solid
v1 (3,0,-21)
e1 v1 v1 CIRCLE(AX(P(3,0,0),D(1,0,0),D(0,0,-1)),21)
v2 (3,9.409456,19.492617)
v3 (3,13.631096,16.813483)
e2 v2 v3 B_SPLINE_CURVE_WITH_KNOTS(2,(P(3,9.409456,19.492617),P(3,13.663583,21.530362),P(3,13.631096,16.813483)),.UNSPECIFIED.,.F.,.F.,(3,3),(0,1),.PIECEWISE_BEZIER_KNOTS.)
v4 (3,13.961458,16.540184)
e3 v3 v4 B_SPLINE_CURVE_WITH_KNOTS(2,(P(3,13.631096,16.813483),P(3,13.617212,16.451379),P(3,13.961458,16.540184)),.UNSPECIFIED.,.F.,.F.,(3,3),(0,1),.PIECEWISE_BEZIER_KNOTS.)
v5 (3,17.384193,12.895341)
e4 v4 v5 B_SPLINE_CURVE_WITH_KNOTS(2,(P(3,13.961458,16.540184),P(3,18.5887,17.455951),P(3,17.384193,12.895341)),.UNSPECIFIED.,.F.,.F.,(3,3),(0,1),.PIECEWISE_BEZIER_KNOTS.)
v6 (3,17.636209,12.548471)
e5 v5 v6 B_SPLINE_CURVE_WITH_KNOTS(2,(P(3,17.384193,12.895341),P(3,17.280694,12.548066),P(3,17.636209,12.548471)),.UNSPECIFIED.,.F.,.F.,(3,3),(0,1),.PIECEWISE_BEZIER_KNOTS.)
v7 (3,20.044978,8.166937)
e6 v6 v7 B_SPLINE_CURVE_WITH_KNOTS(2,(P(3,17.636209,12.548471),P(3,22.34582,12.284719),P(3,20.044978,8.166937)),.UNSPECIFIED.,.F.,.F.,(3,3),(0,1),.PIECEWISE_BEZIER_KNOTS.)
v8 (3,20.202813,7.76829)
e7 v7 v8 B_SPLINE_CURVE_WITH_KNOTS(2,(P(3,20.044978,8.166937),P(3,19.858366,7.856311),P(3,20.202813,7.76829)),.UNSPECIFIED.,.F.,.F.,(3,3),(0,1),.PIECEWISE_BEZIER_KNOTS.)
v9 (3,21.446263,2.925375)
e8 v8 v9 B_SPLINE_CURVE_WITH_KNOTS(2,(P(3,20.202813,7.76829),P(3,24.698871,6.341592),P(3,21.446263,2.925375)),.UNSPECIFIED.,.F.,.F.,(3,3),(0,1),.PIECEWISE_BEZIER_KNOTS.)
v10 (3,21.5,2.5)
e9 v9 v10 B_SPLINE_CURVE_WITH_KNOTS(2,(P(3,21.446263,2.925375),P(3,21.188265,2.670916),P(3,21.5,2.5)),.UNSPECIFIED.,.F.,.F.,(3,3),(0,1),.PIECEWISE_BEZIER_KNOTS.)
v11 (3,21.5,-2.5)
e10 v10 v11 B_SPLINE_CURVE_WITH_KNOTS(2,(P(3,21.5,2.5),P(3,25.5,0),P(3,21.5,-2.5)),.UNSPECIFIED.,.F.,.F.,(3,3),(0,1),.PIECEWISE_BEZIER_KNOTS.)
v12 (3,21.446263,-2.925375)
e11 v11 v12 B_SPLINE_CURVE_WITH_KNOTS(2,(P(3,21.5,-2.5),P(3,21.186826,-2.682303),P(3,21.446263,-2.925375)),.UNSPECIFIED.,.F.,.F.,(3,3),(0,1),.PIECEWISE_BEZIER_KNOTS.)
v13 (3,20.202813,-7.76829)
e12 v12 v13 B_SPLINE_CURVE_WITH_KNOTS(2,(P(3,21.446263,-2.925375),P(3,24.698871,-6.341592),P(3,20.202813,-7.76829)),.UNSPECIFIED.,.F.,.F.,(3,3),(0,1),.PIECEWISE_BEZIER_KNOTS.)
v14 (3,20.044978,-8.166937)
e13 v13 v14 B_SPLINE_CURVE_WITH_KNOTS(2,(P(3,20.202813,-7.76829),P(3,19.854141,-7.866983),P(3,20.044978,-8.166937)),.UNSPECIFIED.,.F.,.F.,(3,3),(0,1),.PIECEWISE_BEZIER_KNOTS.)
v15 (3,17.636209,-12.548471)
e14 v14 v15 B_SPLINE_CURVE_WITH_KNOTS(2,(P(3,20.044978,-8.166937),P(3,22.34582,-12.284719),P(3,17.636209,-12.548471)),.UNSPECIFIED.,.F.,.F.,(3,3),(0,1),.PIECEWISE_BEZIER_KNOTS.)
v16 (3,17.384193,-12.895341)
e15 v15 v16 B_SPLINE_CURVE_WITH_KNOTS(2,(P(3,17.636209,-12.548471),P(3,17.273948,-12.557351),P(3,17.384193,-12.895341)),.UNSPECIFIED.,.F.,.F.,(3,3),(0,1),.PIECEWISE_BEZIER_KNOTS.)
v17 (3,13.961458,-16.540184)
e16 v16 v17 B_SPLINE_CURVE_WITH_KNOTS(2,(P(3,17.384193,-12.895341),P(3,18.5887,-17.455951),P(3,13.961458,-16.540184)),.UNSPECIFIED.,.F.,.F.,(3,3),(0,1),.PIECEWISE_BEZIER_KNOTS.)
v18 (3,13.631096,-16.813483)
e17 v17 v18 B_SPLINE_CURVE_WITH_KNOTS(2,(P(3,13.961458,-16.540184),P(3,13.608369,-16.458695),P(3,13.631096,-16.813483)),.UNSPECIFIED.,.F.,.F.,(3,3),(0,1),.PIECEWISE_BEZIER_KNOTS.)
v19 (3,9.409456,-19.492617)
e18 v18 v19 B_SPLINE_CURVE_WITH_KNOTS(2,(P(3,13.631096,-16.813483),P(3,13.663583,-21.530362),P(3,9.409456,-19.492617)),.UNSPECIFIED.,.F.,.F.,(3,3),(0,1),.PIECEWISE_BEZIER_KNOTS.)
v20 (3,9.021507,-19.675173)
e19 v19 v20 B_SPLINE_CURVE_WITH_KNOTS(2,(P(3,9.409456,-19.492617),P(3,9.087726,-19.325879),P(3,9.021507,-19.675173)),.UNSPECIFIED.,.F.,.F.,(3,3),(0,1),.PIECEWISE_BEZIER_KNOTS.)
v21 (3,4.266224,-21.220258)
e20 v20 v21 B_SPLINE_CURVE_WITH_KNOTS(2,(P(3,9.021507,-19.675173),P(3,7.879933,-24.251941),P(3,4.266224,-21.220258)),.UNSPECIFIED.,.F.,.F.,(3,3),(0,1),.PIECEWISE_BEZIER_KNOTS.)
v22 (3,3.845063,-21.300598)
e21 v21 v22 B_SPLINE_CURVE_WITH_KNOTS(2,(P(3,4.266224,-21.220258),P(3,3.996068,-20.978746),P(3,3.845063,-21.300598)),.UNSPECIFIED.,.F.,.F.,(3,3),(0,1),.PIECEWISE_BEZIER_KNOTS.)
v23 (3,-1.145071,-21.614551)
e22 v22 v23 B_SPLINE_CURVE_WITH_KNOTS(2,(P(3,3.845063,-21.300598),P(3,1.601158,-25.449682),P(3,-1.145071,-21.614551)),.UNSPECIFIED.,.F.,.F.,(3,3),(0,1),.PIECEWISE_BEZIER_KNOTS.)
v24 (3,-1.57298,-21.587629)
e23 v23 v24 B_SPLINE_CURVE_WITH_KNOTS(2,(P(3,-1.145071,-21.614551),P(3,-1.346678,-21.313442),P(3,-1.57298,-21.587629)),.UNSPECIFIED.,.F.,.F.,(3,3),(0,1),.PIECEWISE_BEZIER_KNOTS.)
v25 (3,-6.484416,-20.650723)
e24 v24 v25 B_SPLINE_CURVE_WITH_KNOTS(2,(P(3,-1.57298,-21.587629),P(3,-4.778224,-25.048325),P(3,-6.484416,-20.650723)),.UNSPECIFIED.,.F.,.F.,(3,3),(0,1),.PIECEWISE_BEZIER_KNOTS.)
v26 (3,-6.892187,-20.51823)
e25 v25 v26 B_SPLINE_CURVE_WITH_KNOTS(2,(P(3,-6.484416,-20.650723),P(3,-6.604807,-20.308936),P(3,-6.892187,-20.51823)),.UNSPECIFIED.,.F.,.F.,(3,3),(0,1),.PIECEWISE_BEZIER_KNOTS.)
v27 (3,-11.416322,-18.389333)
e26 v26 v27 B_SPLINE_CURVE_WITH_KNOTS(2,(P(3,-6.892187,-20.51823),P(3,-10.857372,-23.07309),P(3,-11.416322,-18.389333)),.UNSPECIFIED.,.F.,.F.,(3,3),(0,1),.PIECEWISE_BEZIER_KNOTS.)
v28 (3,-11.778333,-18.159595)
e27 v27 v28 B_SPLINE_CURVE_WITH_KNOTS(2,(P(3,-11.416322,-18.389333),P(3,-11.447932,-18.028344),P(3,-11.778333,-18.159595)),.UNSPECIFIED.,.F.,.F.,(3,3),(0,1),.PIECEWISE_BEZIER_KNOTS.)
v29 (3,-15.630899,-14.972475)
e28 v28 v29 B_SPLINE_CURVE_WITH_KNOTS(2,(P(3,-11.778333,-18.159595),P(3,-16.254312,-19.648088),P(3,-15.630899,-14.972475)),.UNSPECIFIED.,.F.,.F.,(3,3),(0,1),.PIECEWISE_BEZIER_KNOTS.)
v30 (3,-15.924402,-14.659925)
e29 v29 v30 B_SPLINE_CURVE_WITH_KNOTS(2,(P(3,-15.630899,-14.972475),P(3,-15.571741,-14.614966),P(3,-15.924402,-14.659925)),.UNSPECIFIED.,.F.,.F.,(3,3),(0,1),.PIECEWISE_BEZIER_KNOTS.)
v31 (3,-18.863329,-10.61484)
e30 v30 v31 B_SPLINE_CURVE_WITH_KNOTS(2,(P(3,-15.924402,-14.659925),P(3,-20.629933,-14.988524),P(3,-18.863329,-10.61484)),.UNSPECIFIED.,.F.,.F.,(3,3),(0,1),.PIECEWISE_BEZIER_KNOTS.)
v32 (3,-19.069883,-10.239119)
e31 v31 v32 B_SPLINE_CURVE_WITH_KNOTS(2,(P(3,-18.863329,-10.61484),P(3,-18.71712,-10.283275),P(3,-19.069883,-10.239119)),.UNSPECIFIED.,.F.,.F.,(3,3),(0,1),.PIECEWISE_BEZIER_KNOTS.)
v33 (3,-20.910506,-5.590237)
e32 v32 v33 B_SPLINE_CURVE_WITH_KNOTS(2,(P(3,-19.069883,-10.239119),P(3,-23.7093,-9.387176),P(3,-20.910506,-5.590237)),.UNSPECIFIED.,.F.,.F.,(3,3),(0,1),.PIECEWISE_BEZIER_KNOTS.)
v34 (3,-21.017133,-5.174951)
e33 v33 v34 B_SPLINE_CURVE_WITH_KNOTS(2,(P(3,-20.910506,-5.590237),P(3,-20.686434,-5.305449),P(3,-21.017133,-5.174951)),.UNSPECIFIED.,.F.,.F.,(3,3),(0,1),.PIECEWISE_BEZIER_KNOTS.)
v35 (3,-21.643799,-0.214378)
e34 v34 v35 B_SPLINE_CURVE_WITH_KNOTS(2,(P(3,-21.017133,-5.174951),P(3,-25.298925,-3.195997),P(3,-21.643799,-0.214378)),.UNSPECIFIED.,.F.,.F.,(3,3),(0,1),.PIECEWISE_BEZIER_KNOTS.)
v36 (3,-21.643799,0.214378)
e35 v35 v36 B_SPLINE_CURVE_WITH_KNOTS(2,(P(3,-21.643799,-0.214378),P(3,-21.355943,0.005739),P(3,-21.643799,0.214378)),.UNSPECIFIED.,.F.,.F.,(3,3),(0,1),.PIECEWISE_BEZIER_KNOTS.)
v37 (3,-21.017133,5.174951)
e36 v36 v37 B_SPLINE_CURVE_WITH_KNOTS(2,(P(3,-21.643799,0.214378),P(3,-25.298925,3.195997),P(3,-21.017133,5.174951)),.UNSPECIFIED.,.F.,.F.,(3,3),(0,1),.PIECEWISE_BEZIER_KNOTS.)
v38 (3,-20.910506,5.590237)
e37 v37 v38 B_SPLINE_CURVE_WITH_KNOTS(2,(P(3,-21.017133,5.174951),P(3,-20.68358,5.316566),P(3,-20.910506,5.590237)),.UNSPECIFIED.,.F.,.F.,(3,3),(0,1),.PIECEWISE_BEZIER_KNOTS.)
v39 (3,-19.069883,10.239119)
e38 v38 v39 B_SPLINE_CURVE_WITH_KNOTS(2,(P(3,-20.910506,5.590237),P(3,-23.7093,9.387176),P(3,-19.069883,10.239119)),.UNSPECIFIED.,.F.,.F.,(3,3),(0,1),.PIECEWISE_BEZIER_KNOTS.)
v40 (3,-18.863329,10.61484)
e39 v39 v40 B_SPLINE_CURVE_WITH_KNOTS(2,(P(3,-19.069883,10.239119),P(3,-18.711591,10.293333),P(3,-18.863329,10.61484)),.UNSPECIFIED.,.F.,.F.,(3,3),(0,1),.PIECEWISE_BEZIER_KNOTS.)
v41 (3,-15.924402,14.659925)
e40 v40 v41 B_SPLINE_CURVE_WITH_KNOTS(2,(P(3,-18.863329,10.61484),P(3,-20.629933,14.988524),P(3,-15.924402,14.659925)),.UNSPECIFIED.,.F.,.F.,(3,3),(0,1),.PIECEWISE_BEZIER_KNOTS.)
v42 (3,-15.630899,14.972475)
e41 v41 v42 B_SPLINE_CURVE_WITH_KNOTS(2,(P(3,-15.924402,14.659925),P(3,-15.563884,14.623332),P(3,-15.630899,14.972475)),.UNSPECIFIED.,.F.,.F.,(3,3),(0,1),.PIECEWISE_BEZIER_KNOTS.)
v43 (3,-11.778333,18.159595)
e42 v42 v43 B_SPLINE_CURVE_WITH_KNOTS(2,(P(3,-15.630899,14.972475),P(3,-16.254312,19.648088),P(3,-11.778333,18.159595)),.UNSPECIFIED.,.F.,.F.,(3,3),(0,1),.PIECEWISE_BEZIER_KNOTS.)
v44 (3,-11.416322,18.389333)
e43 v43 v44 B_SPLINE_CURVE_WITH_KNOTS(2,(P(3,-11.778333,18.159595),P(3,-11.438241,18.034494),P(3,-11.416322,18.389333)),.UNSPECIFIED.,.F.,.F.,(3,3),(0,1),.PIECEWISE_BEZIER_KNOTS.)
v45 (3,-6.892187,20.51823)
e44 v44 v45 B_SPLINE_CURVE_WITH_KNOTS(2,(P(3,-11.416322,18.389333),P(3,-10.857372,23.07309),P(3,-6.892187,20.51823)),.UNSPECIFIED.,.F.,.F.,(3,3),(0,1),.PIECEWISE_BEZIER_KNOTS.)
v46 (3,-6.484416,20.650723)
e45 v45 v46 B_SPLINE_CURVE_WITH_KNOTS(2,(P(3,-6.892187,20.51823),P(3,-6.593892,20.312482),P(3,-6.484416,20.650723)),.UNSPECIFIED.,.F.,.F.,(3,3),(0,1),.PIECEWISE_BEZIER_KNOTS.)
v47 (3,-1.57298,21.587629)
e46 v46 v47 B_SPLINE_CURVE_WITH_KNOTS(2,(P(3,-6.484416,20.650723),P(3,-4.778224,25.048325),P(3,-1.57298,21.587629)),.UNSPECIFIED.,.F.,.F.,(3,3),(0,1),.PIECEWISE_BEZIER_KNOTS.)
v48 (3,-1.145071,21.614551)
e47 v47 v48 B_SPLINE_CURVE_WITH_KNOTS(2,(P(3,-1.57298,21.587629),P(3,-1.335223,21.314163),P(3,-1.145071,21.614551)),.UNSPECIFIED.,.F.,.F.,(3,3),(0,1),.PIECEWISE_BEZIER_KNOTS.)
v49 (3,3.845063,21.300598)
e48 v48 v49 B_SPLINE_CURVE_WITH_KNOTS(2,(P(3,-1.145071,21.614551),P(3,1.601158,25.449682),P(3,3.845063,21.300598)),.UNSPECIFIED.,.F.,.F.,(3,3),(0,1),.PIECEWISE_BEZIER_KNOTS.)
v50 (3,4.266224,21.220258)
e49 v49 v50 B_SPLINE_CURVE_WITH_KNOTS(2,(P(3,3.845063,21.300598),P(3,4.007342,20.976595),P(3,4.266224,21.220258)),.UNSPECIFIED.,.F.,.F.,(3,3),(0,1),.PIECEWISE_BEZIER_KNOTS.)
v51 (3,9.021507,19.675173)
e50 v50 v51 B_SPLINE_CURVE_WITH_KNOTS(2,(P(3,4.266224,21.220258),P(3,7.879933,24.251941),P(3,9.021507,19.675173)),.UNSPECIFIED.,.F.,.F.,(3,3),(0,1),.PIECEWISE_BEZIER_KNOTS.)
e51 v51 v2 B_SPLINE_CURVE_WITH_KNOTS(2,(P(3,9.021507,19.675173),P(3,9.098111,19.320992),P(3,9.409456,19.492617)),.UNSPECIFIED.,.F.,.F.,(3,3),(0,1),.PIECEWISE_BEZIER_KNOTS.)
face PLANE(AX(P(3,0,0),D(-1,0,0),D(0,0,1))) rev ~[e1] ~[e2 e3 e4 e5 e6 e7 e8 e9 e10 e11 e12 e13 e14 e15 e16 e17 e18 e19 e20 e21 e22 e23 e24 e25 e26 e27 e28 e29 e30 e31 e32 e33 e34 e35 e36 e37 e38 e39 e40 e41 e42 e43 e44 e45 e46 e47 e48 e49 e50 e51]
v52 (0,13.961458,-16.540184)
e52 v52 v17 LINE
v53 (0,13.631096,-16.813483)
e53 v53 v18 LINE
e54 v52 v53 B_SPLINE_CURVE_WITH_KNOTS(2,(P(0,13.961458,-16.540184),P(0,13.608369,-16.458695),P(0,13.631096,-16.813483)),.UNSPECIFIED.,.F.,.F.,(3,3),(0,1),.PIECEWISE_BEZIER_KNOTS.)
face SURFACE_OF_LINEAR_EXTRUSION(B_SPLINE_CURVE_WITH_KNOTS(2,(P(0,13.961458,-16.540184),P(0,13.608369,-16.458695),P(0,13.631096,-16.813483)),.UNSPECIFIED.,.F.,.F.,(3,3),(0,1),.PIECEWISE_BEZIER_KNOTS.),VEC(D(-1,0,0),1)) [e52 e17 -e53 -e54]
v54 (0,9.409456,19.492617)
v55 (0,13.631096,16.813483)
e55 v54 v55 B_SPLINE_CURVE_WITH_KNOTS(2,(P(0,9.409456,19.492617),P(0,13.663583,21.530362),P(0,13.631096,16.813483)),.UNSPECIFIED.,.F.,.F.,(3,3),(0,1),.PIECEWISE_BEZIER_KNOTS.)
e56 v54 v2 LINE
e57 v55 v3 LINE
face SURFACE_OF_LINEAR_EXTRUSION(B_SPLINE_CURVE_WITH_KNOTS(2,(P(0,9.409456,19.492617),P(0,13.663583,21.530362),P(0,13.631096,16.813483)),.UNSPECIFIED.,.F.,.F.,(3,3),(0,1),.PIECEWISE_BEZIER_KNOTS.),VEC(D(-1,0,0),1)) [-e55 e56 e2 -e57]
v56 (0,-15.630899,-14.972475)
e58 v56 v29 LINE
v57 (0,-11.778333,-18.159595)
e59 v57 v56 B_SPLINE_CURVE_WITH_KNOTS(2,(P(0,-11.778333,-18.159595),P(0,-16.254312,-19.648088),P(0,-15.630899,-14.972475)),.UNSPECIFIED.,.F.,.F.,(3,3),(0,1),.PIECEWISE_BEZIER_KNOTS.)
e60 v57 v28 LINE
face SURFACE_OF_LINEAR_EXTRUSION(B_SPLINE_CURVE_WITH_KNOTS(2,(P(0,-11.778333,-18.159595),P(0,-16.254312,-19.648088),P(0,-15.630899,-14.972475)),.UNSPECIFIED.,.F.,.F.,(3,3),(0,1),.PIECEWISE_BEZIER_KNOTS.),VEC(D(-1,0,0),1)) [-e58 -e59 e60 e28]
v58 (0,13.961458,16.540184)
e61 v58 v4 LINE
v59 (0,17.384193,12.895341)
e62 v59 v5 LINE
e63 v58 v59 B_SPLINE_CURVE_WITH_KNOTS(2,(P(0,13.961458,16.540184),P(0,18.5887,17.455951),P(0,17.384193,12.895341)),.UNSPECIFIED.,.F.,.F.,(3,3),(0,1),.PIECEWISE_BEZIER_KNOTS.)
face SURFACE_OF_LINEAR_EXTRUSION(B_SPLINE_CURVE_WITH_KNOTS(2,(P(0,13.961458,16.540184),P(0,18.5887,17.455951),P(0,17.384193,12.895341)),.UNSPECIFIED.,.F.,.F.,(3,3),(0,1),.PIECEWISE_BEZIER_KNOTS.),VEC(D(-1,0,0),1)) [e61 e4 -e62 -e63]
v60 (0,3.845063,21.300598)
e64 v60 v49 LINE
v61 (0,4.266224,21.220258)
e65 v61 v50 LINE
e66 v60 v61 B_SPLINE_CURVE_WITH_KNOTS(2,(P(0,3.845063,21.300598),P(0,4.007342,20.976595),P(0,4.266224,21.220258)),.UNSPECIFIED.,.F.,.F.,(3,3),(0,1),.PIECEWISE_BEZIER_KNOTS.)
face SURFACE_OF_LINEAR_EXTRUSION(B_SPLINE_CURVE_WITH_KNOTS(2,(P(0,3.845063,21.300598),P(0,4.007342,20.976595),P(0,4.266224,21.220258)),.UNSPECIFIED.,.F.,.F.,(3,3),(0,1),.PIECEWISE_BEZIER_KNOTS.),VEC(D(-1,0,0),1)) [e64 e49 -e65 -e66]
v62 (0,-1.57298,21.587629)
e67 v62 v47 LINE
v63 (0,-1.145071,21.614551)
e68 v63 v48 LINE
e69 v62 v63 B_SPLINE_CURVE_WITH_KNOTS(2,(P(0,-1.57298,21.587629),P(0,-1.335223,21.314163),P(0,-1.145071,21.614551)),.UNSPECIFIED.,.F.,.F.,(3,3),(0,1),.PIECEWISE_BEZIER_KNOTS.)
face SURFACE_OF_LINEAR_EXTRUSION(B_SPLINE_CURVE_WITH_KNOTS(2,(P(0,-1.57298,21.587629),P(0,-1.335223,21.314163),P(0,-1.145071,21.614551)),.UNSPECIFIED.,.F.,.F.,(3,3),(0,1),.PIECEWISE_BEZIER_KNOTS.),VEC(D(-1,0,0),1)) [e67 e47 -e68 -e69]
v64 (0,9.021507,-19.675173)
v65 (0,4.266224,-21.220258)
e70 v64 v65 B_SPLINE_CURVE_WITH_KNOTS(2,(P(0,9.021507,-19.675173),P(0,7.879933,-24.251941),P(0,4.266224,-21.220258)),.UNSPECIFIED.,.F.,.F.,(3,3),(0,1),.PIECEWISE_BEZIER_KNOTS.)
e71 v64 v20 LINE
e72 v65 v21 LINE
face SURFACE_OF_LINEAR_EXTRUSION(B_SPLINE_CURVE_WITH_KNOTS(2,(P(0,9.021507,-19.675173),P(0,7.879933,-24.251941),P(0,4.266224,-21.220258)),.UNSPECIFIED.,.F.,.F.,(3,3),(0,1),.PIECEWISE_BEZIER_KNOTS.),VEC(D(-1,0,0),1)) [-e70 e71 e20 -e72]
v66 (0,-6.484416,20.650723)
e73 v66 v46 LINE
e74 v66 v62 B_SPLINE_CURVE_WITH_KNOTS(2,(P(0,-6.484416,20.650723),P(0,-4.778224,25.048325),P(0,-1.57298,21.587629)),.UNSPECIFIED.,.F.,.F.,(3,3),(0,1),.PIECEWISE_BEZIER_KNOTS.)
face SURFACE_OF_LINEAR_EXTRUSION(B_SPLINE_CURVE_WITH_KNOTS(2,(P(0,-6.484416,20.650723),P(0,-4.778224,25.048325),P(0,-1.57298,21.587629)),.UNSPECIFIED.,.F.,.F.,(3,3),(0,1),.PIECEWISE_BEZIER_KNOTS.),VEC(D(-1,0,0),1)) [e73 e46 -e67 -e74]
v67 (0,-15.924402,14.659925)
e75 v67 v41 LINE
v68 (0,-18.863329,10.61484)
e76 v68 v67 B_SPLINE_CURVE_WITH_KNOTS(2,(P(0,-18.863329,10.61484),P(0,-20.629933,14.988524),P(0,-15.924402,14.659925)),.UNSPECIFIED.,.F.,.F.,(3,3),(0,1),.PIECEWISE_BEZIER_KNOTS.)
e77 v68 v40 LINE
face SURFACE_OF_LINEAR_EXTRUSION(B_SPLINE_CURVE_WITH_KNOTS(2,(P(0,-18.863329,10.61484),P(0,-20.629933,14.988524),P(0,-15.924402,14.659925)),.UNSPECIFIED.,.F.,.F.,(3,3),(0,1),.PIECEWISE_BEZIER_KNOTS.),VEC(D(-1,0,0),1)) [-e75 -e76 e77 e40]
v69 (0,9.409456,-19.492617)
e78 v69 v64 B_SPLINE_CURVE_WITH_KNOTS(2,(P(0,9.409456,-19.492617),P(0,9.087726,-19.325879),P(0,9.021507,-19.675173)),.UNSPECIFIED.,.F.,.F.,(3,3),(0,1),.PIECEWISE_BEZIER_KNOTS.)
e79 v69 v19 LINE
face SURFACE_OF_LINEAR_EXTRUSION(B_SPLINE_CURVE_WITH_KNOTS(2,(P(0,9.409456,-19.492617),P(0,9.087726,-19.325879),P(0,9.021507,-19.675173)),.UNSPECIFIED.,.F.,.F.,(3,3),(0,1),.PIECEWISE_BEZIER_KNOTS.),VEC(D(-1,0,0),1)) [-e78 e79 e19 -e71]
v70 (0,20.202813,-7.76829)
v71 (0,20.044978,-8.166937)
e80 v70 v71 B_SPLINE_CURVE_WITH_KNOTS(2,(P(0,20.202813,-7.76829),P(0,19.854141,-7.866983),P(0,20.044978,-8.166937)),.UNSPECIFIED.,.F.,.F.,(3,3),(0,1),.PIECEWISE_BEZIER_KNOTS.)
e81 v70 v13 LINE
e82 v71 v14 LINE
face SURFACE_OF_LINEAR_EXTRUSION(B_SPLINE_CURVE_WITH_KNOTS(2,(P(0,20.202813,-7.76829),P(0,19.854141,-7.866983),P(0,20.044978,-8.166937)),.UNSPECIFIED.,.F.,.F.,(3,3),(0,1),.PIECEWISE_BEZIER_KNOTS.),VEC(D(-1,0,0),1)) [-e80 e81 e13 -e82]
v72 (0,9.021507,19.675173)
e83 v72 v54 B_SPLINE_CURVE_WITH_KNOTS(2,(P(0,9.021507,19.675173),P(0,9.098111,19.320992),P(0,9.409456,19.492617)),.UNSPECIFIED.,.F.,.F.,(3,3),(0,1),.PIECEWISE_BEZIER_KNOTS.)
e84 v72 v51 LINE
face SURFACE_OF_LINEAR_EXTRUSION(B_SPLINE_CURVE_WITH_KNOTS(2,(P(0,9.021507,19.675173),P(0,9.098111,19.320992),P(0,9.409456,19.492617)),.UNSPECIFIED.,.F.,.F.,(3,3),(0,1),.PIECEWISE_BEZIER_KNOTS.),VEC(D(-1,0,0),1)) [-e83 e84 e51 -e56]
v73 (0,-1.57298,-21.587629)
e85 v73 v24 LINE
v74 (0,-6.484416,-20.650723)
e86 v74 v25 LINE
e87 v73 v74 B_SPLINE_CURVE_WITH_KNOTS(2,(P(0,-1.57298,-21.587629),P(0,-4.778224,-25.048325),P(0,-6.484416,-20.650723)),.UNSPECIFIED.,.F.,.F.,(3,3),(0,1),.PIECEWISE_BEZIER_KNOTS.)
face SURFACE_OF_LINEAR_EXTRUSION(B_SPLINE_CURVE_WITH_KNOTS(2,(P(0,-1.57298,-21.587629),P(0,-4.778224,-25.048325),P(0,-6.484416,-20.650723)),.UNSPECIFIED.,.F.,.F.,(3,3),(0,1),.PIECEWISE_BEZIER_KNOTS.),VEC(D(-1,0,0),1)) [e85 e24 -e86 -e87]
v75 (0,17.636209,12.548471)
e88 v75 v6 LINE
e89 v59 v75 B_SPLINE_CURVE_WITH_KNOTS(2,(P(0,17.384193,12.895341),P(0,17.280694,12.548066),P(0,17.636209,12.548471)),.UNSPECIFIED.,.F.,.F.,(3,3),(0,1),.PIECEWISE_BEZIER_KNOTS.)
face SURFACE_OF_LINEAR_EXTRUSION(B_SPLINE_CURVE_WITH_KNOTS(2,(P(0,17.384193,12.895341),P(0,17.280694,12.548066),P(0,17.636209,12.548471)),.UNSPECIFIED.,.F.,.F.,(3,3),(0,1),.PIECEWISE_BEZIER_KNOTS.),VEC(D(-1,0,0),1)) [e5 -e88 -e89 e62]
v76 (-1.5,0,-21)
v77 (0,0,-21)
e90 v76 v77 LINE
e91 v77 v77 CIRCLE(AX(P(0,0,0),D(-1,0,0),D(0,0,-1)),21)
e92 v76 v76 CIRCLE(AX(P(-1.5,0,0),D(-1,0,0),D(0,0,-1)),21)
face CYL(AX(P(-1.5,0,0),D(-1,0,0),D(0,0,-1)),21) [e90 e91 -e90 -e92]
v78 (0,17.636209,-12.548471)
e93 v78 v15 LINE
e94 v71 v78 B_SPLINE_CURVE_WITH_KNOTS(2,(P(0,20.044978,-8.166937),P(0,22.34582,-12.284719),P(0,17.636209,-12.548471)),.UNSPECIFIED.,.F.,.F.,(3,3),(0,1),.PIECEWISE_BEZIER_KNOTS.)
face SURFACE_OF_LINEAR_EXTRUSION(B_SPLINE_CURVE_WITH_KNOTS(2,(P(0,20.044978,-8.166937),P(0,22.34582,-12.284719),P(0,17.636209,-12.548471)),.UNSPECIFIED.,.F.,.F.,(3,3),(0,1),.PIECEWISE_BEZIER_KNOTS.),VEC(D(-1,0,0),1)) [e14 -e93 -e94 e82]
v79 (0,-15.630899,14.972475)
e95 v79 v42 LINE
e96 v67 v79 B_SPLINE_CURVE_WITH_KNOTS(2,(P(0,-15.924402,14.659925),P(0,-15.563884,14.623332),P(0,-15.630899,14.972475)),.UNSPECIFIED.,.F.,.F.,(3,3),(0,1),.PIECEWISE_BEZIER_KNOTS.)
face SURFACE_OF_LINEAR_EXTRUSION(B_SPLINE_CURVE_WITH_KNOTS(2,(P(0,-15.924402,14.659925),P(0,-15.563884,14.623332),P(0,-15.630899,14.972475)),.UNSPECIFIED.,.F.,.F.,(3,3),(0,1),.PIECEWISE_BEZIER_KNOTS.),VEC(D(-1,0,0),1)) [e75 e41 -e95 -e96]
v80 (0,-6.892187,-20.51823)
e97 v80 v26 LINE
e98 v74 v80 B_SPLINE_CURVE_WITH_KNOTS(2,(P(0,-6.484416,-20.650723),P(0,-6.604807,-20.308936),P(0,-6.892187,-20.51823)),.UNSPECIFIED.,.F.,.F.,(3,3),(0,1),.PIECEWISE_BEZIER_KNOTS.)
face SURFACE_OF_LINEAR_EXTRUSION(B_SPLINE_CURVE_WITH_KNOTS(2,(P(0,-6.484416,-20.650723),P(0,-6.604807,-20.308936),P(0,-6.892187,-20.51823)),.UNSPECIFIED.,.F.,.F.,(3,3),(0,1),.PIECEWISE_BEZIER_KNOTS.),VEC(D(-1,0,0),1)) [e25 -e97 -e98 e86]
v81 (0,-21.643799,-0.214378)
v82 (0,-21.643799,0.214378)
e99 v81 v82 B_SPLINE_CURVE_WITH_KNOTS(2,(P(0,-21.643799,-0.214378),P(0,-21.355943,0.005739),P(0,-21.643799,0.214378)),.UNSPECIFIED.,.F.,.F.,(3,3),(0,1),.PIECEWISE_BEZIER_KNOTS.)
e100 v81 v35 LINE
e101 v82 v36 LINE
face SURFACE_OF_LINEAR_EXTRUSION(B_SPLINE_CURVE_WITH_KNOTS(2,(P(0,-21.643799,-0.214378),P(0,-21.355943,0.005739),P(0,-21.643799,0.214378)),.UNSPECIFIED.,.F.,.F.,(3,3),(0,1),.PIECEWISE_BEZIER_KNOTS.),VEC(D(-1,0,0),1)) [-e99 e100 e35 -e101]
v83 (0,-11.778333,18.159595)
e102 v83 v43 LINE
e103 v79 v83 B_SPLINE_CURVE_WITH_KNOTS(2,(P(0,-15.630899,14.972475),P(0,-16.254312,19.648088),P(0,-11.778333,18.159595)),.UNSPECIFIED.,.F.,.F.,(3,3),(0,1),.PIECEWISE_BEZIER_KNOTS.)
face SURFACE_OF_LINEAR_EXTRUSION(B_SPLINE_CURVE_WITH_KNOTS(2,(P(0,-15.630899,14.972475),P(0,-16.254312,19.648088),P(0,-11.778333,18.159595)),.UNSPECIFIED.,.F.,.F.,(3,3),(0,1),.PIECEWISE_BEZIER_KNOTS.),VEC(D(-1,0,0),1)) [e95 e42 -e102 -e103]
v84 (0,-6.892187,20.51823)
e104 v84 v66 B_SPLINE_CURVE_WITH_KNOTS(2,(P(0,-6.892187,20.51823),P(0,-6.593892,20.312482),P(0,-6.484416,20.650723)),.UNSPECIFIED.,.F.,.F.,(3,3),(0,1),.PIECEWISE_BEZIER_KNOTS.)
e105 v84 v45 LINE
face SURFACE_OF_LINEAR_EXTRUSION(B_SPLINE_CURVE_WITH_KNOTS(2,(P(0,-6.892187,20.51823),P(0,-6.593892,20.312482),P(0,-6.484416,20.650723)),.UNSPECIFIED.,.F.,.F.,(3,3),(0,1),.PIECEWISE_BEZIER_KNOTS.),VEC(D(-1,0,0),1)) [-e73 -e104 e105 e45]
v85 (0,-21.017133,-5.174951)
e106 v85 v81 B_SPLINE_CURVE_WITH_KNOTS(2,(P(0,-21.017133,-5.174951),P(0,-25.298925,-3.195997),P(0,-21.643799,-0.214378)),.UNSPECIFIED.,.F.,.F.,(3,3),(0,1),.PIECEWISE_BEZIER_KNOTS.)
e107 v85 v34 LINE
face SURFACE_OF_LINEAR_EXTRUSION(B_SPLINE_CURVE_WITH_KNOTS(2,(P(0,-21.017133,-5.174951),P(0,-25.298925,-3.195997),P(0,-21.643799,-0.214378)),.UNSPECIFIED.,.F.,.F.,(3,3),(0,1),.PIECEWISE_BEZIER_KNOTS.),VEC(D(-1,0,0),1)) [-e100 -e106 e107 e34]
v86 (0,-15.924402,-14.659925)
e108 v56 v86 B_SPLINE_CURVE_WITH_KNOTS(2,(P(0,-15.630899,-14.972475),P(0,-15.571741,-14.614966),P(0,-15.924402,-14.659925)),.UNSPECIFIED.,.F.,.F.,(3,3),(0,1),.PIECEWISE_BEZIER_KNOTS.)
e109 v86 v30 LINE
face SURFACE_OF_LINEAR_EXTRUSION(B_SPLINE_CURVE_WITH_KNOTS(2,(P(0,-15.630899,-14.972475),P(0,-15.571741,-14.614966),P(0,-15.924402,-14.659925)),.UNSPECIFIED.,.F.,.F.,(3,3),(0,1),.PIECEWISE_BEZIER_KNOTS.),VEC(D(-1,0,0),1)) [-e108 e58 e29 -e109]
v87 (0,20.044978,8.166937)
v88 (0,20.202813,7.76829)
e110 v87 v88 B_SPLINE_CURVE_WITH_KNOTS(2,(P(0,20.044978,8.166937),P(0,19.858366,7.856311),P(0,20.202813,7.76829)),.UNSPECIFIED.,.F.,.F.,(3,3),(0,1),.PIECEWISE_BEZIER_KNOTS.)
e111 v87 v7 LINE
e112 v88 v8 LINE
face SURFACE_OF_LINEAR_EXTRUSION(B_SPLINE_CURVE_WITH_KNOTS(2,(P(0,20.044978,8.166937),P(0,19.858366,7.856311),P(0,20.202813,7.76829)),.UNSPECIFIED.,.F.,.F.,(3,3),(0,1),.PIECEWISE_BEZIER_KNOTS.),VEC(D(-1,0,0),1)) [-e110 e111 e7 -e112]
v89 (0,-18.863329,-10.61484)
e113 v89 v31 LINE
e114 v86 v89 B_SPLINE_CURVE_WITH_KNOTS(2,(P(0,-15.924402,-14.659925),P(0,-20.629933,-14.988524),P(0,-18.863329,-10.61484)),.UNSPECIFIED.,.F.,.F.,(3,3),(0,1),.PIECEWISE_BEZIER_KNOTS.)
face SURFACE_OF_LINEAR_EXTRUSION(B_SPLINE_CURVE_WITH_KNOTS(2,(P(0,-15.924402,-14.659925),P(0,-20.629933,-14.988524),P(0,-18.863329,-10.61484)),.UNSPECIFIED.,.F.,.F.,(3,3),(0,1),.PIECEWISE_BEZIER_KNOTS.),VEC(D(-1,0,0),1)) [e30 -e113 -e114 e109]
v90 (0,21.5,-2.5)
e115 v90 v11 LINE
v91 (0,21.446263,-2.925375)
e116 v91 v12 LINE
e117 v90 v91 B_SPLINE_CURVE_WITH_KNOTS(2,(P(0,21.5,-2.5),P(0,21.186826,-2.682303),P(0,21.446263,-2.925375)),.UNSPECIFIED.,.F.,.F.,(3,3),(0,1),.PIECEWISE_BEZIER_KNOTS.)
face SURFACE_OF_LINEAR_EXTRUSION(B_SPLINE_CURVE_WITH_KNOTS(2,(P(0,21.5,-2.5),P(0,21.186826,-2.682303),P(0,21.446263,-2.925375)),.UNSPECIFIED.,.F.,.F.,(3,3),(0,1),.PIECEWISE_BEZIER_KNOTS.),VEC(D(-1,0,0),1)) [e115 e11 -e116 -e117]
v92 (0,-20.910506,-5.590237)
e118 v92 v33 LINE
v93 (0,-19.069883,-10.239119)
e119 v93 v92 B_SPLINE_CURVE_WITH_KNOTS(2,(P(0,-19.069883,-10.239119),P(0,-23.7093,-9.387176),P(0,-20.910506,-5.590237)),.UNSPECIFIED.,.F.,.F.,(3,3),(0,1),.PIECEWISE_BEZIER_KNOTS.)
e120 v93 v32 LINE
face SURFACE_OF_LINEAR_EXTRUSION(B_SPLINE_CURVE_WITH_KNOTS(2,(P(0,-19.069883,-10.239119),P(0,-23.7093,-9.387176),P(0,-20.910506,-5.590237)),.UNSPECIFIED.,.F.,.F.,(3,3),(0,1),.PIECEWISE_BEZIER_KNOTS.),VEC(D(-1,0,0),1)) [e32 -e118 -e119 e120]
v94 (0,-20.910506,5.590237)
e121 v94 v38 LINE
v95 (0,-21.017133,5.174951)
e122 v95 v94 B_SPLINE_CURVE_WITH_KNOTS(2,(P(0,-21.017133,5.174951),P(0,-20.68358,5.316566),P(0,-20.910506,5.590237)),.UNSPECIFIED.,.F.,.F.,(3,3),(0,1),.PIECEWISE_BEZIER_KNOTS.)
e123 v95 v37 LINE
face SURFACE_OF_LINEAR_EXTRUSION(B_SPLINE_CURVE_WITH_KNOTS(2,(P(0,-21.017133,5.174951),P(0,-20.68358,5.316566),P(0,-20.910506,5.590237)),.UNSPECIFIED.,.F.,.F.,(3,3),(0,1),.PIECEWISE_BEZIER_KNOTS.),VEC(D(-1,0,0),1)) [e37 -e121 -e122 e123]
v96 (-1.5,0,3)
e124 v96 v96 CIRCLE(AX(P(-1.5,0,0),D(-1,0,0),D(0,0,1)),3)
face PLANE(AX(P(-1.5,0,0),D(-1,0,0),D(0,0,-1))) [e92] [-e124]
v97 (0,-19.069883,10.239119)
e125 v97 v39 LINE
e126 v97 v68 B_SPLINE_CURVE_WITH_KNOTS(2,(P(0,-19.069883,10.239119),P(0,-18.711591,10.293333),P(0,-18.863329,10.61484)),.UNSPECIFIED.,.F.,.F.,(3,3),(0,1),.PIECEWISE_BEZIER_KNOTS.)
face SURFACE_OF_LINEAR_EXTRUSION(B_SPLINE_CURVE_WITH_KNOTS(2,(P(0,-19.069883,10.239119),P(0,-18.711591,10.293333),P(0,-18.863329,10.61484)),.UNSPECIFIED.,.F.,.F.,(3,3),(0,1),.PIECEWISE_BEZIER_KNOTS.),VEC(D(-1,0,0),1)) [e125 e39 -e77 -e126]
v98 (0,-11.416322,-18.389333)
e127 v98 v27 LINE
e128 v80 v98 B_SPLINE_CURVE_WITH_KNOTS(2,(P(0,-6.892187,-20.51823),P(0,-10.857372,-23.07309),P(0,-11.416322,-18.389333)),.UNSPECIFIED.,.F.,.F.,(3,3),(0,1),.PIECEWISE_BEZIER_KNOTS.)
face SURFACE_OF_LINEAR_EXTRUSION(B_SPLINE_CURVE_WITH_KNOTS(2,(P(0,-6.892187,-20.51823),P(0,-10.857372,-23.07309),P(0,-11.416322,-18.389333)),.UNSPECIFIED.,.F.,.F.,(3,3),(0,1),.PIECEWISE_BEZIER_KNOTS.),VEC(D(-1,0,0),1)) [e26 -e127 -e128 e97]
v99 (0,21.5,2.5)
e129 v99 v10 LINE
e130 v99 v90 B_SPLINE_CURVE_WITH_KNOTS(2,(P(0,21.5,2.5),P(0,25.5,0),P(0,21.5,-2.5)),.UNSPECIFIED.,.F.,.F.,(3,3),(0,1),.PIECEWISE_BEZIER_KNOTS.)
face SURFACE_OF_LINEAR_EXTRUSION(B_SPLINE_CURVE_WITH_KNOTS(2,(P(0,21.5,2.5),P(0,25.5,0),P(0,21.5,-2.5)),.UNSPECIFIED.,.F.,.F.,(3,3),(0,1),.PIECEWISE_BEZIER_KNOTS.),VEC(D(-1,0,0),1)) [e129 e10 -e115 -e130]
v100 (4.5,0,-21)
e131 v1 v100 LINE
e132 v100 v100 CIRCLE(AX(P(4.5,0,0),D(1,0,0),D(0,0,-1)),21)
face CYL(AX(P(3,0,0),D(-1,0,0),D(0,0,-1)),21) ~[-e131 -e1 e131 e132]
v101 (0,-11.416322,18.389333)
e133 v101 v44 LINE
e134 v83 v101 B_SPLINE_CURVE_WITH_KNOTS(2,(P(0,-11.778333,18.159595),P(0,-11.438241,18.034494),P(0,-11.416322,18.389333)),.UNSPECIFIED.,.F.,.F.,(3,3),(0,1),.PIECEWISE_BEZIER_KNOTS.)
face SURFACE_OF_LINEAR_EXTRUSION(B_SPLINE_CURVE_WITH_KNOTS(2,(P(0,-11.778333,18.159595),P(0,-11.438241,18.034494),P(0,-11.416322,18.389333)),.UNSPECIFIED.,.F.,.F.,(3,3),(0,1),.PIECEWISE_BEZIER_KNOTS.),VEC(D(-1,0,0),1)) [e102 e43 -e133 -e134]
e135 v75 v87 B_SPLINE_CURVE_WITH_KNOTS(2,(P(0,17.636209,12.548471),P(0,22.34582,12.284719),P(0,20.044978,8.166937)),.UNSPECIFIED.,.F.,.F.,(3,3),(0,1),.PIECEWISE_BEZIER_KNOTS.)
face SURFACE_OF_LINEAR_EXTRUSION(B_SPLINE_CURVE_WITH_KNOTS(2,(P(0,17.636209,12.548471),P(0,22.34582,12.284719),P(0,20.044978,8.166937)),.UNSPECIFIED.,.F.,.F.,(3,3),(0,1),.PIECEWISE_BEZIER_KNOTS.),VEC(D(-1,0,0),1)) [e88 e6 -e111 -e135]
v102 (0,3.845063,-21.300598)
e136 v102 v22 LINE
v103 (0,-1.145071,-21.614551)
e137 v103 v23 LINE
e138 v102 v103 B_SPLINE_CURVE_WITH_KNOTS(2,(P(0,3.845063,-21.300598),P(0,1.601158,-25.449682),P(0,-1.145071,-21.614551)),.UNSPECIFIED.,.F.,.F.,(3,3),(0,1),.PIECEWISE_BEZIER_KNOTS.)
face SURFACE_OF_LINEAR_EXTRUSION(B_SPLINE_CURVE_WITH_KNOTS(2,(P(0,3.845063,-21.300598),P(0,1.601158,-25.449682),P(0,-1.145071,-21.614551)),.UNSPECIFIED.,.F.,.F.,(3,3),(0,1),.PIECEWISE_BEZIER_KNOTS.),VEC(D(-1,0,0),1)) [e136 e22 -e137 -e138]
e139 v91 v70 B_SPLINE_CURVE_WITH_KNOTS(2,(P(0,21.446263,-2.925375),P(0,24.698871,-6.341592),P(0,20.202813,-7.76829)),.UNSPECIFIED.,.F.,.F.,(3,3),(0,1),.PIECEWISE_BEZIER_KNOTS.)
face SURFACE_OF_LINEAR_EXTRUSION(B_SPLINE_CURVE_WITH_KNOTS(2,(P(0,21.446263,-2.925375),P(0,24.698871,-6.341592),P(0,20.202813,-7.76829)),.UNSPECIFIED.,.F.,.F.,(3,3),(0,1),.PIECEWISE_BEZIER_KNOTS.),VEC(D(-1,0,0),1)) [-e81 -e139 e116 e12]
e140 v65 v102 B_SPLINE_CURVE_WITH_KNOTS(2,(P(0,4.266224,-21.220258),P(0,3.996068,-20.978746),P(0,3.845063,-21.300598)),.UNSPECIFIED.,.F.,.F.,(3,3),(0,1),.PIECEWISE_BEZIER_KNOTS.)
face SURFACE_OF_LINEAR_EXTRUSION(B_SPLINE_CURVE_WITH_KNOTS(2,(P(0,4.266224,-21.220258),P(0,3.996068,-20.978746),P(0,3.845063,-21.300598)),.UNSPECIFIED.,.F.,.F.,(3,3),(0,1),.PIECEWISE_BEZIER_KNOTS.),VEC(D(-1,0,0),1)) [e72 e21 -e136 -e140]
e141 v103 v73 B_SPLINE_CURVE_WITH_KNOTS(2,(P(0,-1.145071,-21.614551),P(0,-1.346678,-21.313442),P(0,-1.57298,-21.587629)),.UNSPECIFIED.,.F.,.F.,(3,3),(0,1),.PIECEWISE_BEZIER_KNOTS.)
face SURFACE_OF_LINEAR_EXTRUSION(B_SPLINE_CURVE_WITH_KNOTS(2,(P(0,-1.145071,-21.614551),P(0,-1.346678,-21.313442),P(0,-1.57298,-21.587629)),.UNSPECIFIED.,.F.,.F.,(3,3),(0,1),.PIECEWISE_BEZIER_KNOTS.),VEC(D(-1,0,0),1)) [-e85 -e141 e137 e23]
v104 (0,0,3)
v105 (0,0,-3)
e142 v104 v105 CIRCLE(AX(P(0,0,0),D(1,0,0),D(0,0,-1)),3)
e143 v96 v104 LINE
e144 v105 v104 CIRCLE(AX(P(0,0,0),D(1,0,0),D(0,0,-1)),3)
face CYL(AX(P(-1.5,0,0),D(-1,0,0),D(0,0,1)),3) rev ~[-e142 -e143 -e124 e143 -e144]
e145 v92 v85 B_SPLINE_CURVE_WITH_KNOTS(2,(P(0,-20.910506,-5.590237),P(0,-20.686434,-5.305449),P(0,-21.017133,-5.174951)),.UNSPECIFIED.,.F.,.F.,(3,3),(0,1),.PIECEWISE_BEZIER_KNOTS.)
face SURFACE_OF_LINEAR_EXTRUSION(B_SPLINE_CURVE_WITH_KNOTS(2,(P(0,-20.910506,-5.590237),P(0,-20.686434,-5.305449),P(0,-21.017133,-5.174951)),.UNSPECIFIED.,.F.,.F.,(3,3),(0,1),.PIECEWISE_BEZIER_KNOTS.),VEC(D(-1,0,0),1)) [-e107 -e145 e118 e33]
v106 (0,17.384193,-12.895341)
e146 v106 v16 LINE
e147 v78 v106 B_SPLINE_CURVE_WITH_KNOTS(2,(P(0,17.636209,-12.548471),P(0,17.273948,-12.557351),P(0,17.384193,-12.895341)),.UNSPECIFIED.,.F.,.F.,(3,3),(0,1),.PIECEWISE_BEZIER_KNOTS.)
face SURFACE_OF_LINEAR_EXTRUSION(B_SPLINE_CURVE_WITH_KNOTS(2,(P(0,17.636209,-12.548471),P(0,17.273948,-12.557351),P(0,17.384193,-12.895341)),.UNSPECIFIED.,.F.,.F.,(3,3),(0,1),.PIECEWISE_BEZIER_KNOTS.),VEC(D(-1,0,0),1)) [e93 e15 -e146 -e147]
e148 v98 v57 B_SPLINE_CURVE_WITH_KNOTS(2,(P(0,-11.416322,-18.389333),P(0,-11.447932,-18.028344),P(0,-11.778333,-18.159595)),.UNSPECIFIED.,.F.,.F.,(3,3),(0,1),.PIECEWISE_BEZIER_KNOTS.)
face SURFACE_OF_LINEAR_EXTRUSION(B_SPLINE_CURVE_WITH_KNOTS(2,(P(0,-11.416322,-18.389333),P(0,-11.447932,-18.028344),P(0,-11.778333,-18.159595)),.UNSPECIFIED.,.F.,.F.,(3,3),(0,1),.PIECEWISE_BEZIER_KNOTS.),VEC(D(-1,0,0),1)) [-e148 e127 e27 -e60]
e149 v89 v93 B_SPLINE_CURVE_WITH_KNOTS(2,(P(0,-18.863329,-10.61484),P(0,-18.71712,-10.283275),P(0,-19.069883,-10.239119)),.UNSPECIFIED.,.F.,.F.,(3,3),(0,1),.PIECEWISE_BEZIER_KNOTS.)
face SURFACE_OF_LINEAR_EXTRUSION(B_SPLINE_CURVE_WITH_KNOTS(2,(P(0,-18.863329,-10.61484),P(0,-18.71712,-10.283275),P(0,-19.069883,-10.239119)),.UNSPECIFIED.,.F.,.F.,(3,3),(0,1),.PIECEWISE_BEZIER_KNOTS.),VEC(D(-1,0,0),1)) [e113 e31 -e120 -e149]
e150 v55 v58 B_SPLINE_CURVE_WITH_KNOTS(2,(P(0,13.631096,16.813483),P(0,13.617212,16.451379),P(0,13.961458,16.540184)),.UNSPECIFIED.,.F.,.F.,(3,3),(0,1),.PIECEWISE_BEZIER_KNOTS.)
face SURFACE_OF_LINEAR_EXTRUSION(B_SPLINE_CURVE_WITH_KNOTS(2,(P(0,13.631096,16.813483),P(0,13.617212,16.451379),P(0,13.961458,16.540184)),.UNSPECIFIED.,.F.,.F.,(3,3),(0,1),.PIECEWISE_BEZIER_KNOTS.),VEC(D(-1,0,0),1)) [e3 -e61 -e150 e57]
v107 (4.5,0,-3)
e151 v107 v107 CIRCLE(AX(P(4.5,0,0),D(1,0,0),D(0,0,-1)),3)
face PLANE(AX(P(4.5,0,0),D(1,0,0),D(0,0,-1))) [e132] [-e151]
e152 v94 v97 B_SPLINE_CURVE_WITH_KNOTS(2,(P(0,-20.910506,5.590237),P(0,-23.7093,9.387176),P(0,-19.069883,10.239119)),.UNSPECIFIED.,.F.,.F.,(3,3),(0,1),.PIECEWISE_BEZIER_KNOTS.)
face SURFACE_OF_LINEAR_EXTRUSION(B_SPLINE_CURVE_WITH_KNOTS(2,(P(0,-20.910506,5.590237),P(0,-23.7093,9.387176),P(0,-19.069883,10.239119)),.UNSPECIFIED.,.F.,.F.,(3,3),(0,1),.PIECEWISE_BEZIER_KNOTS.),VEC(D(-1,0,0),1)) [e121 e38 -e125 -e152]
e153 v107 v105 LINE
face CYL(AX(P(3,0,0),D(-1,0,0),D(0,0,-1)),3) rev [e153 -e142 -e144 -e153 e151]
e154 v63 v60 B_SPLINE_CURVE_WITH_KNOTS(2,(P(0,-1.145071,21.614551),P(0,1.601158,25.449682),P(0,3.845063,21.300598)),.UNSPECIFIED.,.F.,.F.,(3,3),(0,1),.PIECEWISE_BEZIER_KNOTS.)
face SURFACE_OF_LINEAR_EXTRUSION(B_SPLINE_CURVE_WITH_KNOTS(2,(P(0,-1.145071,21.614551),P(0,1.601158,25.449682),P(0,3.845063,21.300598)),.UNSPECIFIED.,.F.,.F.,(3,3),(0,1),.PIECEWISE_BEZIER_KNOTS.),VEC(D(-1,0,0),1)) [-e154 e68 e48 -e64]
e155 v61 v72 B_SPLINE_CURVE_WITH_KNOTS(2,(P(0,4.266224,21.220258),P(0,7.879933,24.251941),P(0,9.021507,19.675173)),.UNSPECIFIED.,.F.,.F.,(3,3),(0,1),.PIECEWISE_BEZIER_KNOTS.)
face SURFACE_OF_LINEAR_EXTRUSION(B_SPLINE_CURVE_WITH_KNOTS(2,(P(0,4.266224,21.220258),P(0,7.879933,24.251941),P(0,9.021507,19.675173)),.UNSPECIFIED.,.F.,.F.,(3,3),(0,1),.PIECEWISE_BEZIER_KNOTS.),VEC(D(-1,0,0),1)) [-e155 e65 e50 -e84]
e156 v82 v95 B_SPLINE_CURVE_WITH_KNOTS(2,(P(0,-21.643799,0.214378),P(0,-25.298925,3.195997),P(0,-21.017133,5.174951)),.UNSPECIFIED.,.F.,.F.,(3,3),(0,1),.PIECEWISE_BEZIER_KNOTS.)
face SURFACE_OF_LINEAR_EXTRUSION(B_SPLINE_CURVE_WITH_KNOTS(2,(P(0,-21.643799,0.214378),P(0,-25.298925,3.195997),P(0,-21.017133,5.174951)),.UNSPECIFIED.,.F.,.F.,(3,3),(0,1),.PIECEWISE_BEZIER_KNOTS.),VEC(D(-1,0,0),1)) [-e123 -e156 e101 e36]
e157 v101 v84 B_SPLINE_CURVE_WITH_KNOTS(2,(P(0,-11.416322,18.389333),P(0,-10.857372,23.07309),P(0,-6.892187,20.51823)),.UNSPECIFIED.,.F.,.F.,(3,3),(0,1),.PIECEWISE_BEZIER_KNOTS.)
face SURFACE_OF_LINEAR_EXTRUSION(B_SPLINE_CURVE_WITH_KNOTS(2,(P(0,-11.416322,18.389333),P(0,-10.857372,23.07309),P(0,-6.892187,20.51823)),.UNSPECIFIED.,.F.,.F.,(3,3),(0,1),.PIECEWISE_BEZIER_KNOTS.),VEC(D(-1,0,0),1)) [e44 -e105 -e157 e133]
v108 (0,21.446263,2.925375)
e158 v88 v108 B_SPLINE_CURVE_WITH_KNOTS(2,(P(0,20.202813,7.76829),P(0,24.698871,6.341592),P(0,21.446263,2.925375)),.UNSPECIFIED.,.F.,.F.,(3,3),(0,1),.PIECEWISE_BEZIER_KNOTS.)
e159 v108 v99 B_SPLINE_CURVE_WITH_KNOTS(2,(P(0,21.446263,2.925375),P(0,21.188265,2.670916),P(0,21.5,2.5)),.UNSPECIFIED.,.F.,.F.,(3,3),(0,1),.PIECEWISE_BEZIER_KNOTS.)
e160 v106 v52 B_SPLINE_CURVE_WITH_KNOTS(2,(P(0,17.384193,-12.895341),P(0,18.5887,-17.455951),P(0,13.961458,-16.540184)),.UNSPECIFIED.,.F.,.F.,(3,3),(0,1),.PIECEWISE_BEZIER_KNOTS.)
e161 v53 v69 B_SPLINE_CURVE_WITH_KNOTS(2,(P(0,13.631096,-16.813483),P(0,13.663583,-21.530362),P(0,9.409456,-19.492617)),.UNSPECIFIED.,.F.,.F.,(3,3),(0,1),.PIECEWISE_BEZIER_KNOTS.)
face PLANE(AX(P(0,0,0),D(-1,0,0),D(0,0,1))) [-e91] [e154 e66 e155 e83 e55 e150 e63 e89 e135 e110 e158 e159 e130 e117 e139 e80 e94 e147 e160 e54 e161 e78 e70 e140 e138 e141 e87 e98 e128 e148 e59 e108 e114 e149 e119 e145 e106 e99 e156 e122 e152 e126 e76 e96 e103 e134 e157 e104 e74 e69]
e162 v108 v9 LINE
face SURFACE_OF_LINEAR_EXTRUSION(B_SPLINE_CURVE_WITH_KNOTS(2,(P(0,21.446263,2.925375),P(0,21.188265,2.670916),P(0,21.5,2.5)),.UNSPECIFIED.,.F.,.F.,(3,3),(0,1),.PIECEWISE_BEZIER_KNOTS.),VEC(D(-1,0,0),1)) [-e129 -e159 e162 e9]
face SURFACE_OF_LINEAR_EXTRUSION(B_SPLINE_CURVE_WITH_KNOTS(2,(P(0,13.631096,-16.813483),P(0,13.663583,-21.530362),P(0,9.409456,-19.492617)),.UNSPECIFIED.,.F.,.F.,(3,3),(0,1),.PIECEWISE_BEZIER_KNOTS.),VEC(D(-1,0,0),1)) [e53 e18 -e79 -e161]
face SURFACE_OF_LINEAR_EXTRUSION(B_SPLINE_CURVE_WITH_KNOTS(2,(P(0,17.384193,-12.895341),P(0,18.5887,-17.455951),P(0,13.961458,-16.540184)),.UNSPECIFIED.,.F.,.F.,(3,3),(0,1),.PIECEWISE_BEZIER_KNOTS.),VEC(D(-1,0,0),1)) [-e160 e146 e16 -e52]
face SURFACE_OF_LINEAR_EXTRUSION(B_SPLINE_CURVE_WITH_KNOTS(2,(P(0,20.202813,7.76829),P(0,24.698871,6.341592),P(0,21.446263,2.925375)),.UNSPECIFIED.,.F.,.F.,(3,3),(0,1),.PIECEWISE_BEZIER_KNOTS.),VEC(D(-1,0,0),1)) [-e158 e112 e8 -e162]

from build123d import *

# Parameters (mm, degrees)
SKETCH3_R           = 3
BOSS_EXTRUDE1_DEPTH = 3
SKETCH5_R           = 21
SKETCH5_R_2         = 3
BOSS_EXTRUDE2_DEPTH = 1.5
BOSS_EXTRUDE3_START = 1.5
SKETCH6_R           = 21
SKETCH6_R_2         = 3
BOSS_EXTRUDE3_DEPTH = 1.5


with BuildPart() as part:
    # Sketch3 → Boss-Extrude1 (new body)
    with BuildSketch(Plane(origin=(0, 0, 0), x_dir=(0, 0, -1), z_dir=(1, 0, 0))):
        with BuildLine():
            add(Edge.make_bspline(
                [(-2.5, 21.5), (0, 25.5), (2.5, 21.5)],
                knots=[0, 0, 0, 1, 1, 1], degree=2))
            add(Edge.make_bspline(
                [(2.5, 21.5), (2.682302846, 21.186826024), (2.925374671, 21.446262682)],
                knots=[0, 0, 0, 1, 1, 1], degree=2))
            add(Edge.make_bspline(
                [(2.925374671, 21.446262682), (6.341592123, 24.698870609), (7.768290477, 20.202813246)],
                knots=[0, 0, 0, 1, 1, 1], degree=2))
            add(Edge.make_bspline(
                [(7.768290477, 20.202813246), (7.866982743, 19.854141333), (8.166937293, 20.044977806)],
                knots=[0, 0, 0, 1, 1, 1], degree=2))
            add(Edge.make_bspline(
                [(8.166937293, 20.044977806), (12.28471869, 22.345820341), (12.548470693, 17.636209436)],
                knots=[0, 0, 0, 1, 1, 1], degree=2))
            add(Edge.make_bspline(
                [(12.548470693, 17.636209436), (12.557351182, 17.273947923), (12.895341209, 17.384193254)],
                knots=[0, 0, 0, 1, 1, 1], degree=2))
            add(Edge.make_bspline(
                [(12.895341209, 17.384193254), (17.455951201, 18.588699999), (16.540184346, 13.961457725)],
                knots=[0, 0, 0, 1, 1, 1], degree=2))
            add(Edge.make_bspline(
                [(16.540184346, 13.961457725), (16.458695063, 13.608368836), (16.813483411, 13.631095906)],
                knots=[0, 0, 0, 1, 1, 1], degree=2))
            add(Edge.make_bspline(
                [(16.813483411, 13.631095906), (21.5303621, 13.663583272), (19.492617386, 9.409456278)],
                knots=[0, 0, 0, 1, 1, 1], degree=2))
            add(Edge.make_bspline(
                [(19.492617386, 9.409456278), (19.325878602, 9.087725887), (19.675172614, 9.02150667)],
                knots=[0, 0, 0, 1, 1, 1], degree=2))
            add(Edge.make_bspline(
                [(19.675172614, 9.02150667), (24.251941166, 7.879933357), (21.220257586, 4.266224088)],
                knots=[0, 0, 0, 1, 1, 1], degree=2))
            add(Edge.make_bspline(
                [(21.220257586, 4.266224088), (20.978746114, 3.996067698), (21.300598362, 3.845062991)],
                knots=[0, 0, 0, 1, 1, 1], degree=2))
            add(Edge.make_bspline(
                [(21.300598362, 3.845062991), (25.449681575, 1.601158248), (21.61455096, -1.145070651)],
                knots=[0, 0, 0, 1, 1, 1], degree=2))
            add(Edge.make_bspline(
                [(21.61455096, -1.145070651), (21.313441852, -1.346678121), (21.587629177, -1.572980137)],
                knots=[0, 0, 0, 1, 1, 1], degree=2))
            add(Edge.make_bspline(
                [(21.587629177, -1.572980137), (25.048324894, -4.778223522), (20.650722604, -6.48441639)],
                knots=[0, 0, 0, 1, 1, 1], degree=2))
            add(Edge.make_bspline(
                [(20.650722604, -6.48441639), (20.308935654, -6.604807201), (20.518229857, -6.892187137)],
                knots=[0, 0, 0, 1, 1, 1], degree=2))
            add(Edge.make_bspline(
                [(20.518229857, -6.892187137), (23.073089838, -10.857371935), (18.389333399, -11.4163224)],
                knots=[0, 0, 0, 1, 1, 1], degree=2))
            add(Edge.make_bspline(
                [(18.389333399, -11.4163224), (18.028344337, -11.447931953), (18.159594694, -11.778332673)],
                knots=[0, 0, 0, 1, 1, 1], degree=2))
            add(Edge.make_bspline(
                [(18.159594694, -11.778332673), (19.648087691, -16.254311739), (14.972474745, -15.630898887)],
                knots=[0, 0, 0, 1, 1, 1], degree=2))
            add(Edge.make_bspline(
                [(14.972474745, -15.630898887), (14.614965842, -15.571741039), (14.65992541, -15.924402248)],
                knots=[0, 0, 0, 1, 1, 1], degree=2))
            add(Edge.make_bspline(
                [(14.65992541, -15.924402248), (14.988523933, -20.629933357), (10.614840438, -18.86332851)],
                knots=[0, 0, 0, 1, 1, 1], degree=2))
            add(Edge.make_bspline(
                [(10.614840438, -18.86332851), (10.283275294, -18.717120366), (10.239119097, -19.069883065)],
                knots=[0, 0, 0, 1, 1, 1], degree=2))
            add(Edge.make_bspline(
                [(10.239119097, -19.069883065), (9.387176093, -23.70930039), (5.590236668, -20.910505828)],
                knots=[0, 0, 0, 1, 1, 1], degree=2))
            add(Edge.make_bspline(
                [(5.590236668, -20.910505828), (5.305448739, -20.686434184), (5.174951275, -21.017132994)],
                knots=[0, 0, 0, 1, 1, 1], degree=2))
            add(Edge.make_bspline(
                [(5.174951275, -21.017132994), (3.195997456, -25.298924884), (0.214377768, -21.643799162)],
                knots=[0, 0, 0, 1, 1, 1], degree=2))
            add(Edge.make_bspline(
                [(0.214377768, -21.643799162), (-0.005738672, -21.355943262), (-0.214377768, -21.643799162)],
                knots=[0, 0, 0, 1, 1, 1], degree=2))
            add(Edge.make_bspline(
                [(-0.214377768, -21.643799162), (-3.195997456, -25.298924884), (-5.174951275, -21.017132994)],
                knots=[0, 0, 0, 1, 1, 1], degree=2))
            add(Edge.make_bspline(
                [(-5.174951275, -21.017132994), (-5.316565502, -20.683579884), (-5.590236668, -20.910505828)],
                knots=[0, 0, 0, 1, 1, 1], degree=2))
            add(Edge.make_bspline(
                [(-5.590236668, -20.910505828), (-9.387176093, -23.70930039), (-10.239119097, -19.069883065)],
                knots=[0, 0, 0, 1, 1, 1], degree=2))
            add(Edge.make_bspline(
                [(-10.239119097, -19.069883065), (-10.293332967, -18.711591113), (-10.614840438, -18.86332851)],
                knots=[0, 0, 0, 1, 1, 1], degree=2))
            add(Edge.make_bspline(
                [(-10.614840438, -18.86332851), (-14.988523933, -20.629933357), (-14.65992541, -15.924402248)],
                knots=[0, 0, 0, 1, 1, 1], degree=2))
            add(Edge.make_bspline(
                [(-14.65992541, -15.924402248), (-14.623332467, -15.563884256), (-14.972474745, -15.630898887)],
                knots=[0, 0, 0, 1, 1, 1], degree=2))
            add(Edge.make_bspline(
                [(-14.972474745, -15.630898887), (-19.648087691, -16.254311739), (-18.159594694, -11.778332673)],
                knots=[0, 0, 0, 1, 1, 1], degree=2))
            add(Edge.make_bspline(
                [(-18.159594694, -11.778332673), (-18.034494206, -11.438241311), (-18.389333399, -11.4163224)],
                knots=[0, 0, 0, 1, 1, 1], degree=2))
            add(Edge.make_bspline(
                [(-18.389333399, -11.4163224), (-23.073089838, -10.857371935), (-20.518229857, -6.892187137)],
                knots=[0, 0, 0, 1, 1, 1], degree=2))
            add(Edge.make_bspline(
                [(-20.518229857, -6.892187137), (-20.312482348, -6.593891597), (-20.650722604, -6.48441639)],
                knots=[0, 0, 0, 1, 1, 1], degree=2))
            add(Edge.make_bspline(
                [(-20.650722604, -6.48441639), (-25.048324894, -4.778223522), (-21.587629177, -1.572980137)],
                knots=[0, 0, 0, 1, 1, 1], degree=2))
            add(Edge.make_bspline(
                [(-21.587629177, -1.572980137), (-21.314162521, -1.335223424), (-21.61455096, -1.145070651)],
                knots=[0, 0, 0, 1, 1, 1], degree=2))
            add(Edge.make_bspline(
                [(-21.61455096, -1.145070651), (-25.449681575, 1.601158248), (-21.300598362, 3.845062991)],
                knots=[0, 0, 0, 1, 1, 1], degree=2))
            add(Edge.make_bspline(
                [(-21.300598362, 3.845062991), (-20.976595474, 4.007341747), (-21.220257586, 4.266224088)],
                knots=[0, 0, 0, 1, 1, 1], degree=2))
            add(Edge.make_bspline(
                [(-21.220257586, 4.266224088), (-24.251941166, 7.879933357), (-19.675172614, 9.02150667)],
                knots=[0, 0, 0, 1, 1, 1], degree=2))
            add(Edge.make_bspline(
                [(-19.675172614, 9.02150667), (-19.320991787, 9.098110899), (-19.492617386, 9.409456278)],
                knots=[0, 0, 0, 1, 1, 1], degree=2))
            add(Edge.make_bspline(
                [(-19.492617386, 9.409456278), (-21.5303621, 13.663583272), (-16.813483411, 13.631095906)],
                knots=[0, 0, 0, 1, 1, 1], degree=2))
            add(Edge.make_bspline(
                [(-16.813483411, 13.631095906), (-16.451379128, 13.617212282), (-16.540184346, 13.961457725)],
                knots=[0, 0, 0, 1, 1, 1], degree=2))
            add(Edge.make_bspline(
                [(-16.540184346, 13.961457725), (-17.455951201, 18.588699999), (-12.895341209, 17.384193254)],
                knots=[0, 0, 0, 1, 1, 1], degree=2))
            add(Edge.make_bspline(
                [(-12.895341209, 17.384193254), (-12.548065815, 17.280694137), (-12.548470693, 17.636209436)],
                knots=[0, 0, 0, 1, 1, 1], degree=2))
            add(Edge.make_bspline(
                [(-12.548470693, 17.636209436), (-12.28471869, 22.345820341), (-8.166937293, 20.044977806)],
                knots=[0, 0, 0, 1, 1, 1], degree=2))
            add(Edge.make_bspline(
                [(-8.166937293, 20.044977806), (-7.856311378, 19.858366425), (-7.768290477, 20.202813246)],
                knots=[0, 0, 0, 1, 1, 1], degree=2))
            add(Edge.make_bspline(
                [(-7.768290477, 20.202813246), (-6.341592123, 24.698870609), (-2.925374671, 21.446262682)],
                knots=[0, 0, 0, 1, 1, 1], degree=2))
            add(Edge.make_bspline(
                [(-2.925374671, 21.446262682), (-2.670916004, 21.188264517), (-2.5, 21.5)],
                knots=[0, 0, 0, 1, 1, 1], degree=2))
        make_face()
        Circle(SKETCH3_R, mode=Mode.SUBTRACT)
    extrude(amount=BOSS_EXTRUDE1_DEPTH)

    # Sketch5 → Boss-Extrude2 (add)
    with BuildSketch(Plane(origin=(3, 0, 0), x_dir=(0, 0, -1), z_dir=(1, 0, 0))):
        Circle(SKETCH5_R)
        Circle(SKETCH5_R_2, mode=Mode.SUBTRACT)
    extrude(amount=BOSS_EXTRUDE2_DEPTH)

    # Sketch6 → Boss-Extrude3 (add)
    with BuildSketch(Plane.ZY.offset(BOSS_EXTRUDE3_START)):
        with Locations(Location((0, 0, 0), (0, 0, 180))):
            Circle(SKETCH6_R)
        Circle(SKETCH6_R_2, mode=Mode.SUBTRACT)
    extrude(amount=-BOSS_EXTRUDE3_DEPTH)


solid = part.part
